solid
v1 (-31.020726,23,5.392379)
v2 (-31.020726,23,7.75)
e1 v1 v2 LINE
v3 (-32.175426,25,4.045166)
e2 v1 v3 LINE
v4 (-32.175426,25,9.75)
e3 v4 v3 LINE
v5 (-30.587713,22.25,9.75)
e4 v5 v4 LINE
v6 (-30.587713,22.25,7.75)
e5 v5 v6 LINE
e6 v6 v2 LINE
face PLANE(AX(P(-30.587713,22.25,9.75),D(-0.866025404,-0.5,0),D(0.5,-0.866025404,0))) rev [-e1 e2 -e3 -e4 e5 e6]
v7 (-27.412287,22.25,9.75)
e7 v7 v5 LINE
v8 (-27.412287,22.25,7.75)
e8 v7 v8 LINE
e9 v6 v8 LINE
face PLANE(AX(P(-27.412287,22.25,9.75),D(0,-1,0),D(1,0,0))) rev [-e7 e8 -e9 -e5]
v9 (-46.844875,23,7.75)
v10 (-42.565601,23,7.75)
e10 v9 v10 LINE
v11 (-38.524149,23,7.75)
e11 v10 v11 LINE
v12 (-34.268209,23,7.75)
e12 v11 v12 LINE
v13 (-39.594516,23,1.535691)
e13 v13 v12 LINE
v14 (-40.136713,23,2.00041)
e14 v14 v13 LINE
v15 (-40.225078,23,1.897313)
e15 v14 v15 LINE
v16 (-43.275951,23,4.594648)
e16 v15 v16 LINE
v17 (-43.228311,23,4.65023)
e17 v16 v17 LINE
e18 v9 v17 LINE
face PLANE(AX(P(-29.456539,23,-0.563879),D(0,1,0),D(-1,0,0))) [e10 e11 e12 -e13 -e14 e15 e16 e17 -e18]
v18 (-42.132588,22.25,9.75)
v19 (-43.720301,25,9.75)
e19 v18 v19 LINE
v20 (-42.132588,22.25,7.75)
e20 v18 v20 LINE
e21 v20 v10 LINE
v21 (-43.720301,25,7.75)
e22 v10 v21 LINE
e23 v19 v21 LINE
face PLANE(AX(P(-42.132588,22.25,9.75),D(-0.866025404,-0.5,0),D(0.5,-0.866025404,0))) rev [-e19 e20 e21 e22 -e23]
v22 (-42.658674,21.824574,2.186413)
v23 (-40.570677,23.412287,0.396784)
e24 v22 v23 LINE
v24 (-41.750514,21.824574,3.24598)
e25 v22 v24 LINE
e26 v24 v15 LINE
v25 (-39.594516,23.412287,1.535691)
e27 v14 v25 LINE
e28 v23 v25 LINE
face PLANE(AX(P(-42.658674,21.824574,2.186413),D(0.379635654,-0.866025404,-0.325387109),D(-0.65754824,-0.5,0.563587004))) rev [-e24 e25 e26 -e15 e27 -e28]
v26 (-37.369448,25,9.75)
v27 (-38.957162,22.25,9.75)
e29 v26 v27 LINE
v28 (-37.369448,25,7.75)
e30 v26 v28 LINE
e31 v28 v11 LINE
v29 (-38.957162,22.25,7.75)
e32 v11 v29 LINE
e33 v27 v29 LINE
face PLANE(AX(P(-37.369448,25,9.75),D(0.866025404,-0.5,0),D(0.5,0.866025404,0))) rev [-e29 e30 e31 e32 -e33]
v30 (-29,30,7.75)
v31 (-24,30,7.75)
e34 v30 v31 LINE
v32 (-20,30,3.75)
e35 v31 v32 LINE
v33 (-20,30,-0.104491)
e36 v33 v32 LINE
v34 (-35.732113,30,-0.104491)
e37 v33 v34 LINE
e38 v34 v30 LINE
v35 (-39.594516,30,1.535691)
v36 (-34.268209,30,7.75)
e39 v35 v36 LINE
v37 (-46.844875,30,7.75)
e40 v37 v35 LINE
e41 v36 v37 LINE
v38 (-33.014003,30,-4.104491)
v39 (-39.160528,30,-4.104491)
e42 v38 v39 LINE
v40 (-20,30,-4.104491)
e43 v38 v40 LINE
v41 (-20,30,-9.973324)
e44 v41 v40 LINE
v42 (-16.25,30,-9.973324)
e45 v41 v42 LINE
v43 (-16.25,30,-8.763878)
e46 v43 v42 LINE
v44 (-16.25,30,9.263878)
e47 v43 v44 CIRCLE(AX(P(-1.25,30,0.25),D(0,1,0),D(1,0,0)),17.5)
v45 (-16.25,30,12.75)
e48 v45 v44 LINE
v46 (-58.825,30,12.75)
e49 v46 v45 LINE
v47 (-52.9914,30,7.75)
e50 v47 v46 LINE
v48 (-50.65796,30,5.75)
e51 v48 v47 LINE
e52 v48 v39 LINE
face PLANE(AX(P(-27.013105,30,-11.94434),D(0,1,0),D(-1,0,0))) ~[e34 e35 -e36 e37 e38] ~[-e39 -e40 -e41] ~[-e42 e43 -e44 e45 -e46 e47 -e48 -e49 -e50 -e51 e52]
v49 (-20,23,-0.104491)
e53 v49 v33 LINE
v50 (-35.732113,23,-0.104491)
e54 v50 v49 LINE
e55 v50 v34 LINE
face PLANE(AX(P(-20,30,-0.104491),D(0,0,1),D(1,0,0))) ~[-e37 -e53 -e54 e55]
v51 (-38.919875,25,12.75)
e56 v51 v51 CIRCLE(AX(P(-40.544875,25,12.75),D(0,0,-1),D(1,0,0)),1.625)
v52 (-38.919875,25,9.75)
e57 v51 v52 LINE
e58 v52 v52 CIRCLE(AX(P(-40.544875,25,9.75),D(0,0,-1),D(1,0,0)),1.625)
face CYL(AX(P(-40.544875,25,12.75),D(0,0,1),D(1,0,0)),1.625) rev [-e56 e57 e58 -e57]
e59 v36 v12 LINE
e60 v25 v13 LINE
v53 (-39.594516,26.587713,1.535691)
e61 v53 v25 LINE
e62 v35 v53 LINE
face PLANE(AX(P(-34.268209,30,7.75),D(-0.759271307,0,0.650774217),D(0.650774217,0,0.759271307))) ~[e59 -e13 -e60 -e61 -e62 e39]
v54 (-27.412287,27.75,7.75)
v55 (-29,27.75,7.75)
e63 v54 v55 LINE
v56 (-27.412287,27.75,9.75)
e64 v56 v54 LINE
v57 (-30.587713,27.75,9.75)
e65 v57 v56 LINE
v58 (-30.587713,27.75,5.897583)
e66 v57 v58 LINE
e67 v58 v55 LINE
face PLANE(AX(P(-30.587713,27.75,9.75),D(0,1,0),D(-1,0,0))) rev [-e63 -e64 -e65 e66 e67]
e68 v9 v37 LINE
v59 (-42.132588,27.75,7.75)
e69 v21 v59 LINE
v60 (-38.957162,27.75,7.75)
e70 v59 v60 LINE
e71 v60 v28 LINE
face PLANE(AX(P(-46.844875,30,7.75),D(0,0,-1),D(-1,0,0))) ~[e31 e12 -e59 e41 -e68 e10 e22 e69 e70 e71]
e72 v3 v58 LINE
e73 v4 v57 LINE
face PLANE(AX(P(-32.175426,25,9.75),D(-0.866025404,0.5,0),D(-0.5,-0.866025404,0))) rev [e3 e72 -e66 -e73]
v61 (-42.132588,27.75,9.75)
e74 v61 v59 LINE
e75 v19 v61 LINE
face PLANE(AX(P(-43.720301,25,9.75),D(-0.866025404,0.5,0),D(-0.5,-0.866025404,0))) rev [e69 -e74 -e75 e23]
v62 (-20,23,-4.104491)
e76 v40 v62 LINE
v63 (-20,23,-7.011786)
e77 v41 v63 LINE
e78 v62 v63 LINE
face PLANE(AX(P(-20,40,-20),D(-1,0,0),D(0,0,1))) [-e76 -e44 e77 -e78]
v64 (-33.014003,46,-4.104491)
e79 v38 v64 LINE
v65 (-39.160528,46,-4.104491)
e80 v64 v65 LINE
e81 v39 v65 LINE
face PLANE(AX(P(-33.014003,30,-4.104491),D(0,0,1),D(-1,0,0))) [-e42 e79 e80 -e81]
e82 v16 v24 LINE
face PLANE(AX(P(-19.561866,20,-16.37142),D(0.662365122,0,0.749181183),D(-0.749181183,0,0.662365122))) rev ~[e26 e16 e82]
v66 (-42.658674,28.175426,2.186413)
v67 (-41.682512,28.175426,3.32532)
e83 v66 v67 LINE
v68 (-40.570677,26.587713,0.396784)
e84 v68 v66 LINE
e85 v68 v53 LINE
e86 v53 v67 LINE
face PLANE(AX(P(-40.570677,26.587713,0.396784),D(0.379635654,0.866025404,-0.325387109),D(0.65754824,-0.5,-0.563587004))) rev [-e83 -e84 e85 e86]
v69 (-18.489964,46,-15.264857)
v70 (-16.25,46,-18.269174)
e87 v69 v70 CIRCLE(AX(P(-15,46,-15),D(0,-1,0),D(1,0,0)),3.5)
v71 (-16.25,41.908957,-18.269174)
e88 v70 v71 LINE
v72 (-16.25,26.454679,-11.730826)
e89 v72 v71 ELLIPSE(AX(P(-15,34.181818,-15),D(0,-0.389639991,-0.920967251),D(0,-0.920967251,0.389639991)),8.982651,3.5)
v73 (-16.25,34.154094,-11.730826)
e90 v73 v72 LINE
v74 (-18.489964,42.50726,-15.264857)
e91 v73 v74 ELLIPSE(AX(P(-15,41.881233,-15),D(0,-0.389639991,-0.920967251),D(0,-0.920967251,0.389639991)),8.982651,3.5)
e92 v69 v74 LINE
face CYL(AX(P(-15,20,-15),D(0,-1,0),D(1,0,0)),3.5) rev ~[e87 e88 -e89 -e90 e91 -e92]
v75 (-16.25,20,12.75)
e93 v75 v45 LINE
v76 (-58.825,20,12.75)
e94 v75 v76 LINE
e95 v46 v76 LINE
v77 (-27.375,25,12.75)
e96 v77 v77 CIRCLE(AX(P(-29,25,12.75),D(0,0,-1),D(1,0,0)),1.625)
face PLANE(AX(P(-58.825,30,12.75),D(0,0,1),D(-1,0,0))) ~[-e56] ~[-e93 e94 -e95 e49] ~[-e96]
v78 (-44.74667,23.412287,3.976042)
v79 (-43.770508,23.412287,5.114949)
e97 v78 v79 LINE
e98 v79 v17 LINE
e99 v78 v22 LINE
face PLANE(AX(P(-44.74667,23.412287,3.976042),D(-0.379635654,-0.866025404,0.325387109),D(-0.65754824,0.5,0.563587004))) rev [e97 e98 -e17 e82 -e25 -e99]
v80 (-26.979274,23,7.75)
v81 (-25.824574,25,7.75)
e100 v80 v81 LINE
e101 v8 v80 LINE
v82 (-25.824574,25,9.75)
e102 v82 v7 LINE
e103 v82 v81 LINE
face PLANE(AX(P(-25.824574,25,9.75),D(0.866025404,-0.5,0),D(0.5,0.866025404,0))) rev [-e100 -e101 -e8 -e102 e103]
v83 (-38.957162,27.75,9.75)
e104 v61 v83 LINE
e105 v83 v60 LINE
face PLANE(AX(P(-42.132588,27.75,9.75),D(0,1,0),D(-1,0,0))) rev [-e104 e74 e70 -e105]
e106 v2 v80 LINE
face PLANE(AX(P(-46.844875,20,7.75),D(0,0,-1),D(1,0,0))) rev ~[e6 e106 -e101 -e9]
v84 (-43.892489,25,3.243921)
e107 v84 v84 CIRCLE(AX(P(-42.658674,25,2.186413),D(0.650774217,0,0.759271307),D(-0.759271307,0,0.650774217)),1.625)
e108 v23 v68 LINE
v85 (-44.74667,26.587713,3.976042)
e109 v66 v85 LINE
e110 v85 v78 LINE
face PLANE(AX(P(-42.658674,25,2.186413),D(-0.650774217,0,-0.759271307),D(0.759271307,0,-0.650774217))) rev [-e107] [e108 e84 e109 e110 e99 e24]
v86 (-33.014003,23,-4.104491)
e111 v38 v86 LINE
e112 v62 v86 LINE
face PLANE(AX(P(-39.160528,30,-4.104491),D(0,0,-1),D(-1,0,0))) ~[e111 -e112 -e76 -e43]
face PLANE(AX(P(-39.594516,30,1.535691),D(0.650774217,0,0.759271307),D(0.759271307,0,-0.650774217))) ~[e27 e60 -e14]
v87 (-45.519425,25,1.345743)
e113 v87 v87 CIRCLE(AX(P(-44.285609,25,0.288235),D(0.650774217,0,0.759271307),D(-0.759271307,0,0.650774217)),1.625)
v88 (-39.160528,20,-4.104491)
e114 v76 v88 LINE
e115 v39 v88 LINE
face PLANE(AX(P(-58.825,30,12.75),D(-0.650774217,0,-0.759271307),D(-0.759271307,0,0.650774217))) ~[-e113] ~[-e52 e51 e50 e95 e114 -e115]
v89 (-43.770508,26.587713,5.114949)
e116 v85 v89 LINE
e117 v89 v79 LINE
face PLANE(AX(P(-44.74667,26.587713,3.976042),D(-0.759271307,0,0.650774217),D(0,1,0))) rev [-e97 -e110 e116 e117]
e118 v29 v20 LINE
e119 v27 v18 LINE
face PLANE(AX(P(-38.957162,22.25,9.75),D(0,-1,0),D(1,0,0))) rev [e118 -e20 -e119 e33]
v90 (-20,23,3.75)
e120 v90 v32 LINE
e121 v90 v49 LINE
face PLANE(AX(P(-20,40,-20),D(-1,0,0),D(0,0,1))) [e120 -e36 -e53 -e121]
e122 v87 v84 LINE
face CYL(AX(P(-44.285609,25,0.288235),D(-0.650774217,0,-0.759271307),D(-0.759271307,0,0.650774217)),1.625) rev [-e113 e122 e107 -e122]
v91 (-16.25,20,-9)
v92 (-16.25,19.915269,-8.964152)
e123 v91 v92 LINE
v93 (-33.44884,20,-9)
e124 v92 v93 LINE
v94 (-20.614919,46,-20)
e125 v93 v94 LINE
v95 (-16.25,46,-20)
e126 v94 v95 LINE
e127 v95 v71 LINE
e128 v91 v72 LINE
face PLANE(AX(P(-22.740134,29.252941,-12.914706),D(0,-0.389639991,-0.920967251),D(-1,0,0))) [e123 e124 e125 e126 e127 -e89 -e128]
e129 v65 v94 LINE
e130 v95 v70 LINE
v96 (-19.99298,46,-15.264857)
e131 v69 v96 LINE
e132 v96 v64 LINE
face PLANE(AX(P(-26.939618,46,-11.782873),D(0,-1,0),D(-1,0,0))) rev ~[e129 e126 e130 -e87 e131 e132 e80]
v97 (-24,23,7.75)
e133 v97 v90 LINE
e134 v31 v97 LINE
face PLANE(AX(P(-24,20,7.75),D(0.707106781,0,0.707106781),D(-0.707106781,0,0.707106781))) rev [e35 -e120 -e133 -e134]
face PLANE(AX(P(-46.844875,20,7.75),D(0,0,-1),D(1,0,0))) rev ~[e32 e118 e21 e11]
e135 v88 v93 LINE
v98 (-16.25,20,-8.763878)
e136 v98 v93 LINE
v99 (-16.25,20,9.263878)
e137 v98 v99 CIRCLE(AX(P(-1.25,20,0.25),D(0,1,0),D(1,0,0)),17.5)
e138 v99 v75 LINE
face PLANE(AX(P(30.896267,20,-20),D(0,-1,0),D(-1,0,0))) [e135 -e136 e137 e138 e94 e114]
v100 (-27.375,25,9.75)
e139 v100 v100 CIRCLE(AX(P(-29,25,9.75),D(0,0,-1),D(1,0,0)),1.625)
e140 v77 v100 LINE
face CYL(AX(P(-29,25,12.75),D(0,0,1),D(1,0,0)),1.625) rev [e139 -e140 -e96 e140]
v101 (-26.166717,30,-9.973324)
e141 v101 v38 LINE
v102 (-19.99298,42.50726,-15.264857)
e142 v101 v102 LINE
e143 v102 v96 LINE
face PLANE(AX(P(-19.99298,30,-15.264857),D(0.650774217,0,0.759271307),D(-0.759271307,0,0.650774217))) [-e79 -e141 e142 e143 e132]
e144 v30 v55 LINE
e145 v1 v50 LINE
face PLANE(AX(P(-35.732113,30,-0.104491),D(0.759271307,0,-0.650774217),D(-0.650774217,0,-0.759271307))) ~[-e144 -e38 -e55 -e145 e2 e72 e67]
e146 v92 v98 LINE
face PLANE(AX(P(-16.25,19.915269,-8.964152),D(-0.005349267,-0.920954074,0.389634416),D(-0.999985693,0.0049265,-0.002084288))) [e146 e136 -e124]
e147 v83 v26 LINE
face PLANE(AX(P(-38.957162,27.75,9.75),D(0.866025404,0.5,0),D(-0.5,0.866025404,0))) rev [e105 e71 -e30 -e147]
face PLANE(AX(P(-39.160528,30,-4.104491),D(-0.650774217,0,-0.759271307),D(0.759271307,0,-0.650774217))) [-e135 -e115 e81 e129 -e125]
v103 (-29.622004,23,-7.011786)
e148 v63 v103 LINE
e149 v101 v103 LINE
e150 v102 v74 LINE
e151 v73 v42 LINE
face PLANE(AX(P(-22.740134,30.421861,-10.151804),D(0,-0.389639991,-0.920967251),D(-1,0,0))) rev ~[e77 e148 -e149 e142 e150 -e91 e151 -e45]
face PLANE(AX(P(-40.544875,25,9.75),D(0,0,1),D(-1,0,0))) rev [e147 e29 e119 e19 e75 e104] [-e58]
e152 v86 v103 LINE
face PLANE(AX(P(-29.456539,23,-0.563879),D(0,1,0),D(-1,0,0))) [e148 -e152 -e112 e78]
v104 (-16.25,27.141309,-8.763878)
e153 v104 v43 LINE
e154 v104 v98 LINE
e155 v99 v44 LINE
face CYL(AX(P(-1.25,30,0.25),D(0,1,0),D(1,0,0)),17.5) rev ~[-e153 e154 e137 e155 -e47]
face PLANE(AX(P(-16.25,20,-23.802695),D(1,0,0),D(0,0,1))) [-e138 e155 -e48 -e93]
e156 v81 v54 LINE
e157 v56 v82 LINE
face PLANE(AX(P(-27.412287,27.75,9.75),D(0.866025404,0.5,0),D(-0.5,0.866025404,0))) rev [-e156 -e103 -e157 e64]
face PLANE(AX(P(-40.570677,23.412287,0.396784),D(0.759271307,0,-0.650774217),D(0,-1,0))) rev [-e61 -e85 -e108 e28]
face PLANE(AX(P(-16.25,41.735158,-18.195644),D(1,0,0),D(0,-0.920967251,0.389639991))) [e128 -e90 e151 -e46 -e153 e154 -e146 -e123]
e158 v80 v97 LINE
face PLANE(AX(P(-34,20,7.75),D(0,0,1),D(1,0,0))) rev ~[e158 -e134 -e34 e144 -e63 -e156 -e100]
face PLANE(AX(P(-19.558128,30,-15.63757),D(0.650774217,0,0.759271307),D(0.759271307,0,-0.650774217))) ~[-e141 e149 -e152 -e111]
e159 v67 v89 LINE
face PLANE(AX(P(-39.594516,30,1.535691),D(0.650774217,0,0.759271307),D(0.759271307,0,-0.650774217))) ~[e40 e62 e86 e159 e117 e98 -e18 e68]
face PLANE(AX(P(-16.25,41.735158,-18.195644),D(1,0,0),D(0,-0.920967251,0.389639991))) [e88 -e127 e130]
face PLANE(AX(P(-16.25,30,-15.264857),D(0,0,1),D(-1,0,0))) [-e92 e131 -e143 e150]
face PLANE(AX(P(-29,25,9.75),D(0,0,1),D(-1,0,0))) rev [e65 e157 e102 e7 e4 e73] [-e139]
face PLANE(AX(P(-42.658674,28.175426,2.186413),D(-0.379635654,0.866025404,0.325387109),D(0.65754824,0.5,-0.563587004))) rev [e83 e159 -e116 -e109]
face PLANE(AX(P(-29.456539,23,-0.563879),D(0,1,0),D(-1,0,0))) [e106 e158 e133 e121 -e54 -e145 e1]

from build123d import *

# Parameters (mm, degrees)
CROQUIS1_R                              = 15.25
CROQUIS1_R_2                            = 2.125
SOPORTE_CAJA_REDUCTORA_DEPTH            = 20
CROQUIS3_R                              = 2.125
CORTAR_EXTRUIR1_DEPTH                   = 51.423828692
REDONDEO1_R                             = 5
BOSS_EXTRUDE1_DEPTH                     = 20
CUT_EXTRUDE1_REACH                      = 55.852
SKETCH2_R                               = 1.625
CUT_EXTRUDE2_DEPTH                      = 2
SKETCH4_R                               = 1.625
CUT_EXTRUDE3_DEPTH                      = 63.291652731
CUT_EXTRUDE4_START                      = -4.5
CUT_EXTRUDE4_DEPTH                      = 2
CROQUIS6_W                              = 4.75
CROQUIS6_H                              = 4.75
CORTAR_EXTRUIR17_DEPTH                  = 42.231056256
CROQUIS7_W                              = 60
CROQUIS7_H                              = 20
CORTAR_EXTRUIR18_DEPTH                  = 51.423828692
SALIENTE_EXTRUIR2_DEPTH                 = 49
SOPORTE_START                           = -15
SOPORTE_MOTOR_DEPTH                     = 15
CROQUIS12_R                             = 2.125
AGUJEROS_DE_SUJECION_A_BASE_DEPTH       = 84.087679592
TUERCA_START                            = -4
TUERCA_AGUJERO_DE_SUJECION_A_BASE_DEPTH = 10
SALIENTE_EXTRUIR4_DEPTH                 = 15
CORTAR_EXTRUIR19_DEPTH                  = 25
CROQUIS14_W                             = 50
CROQUIS14_H                             = 118
CORTAR_EXTRUIR22_DEPTH                  = 146.556045907
CROQUIS15_W                             = 10
CROQUIS15_H                             = 7
CORTAR_EXTRUIR23_DEPTH                  = 42.231056256
CORTAR_EXTRUIR24_DEPTH                  = 42.231056256
CROQUIS18_W                             = 40
CROQUIS18_H                             = 10
CORTAR_EXTRUIR25_DEPTH                  = 44.27311521
SALIENTE_EXTRUIR5_DEPTH                 = 10
CROQUIS20_R                             = 1
CORTAR_EXTRUIR26_DEPTH                  = 49.229270158
CORTAR_EXTRUIR27_REACH                  = 62.959
CORTAR_EXTRUIR27_END_RADIUS             = 15.25
CROQUIS21_R                             = 1.625
CROQUIS22_R                             = 2.125
CROQUIS22_R_2                           = 1
SALIENTE_EXTRUIR6_DEPTH                 = 10
CROQUIS23_R                             = 1.625
CORTAR_EXTRUIR28_DEPTH                  = 52.269508521
CORTAR_EXTRUIR29_START                  = -3
CORTAR_EXTRUIR29_DEPTH                  = 10
SALIENTE_EXTRUIR7_DEPTH                 = 10
CORTAR_EXTRUIR30_REACH                  = 72.235
CROQUIS27_R                             = 1.625
CORTAR_EXTRUIR31_REACH                  = 75.235
CORTAR_EXTRUIR31_START                  = -3
CORTAR_EXTRUIR32_REACH                  = 58.612
CROQUIS29_R                             = 1.625
CORTAR_EXTRUIR33_REACH                  = 61.112
CORTAR_EXTRUIR33_START                  = -2.5
CROQUIS35_W                             = 13.305418987
CROQUIS35_H                             = 6.826864192
CORTAR_EXTRUIR34_DEPTH                  = 63.931555098
CORTAR_EXTRUIR34_DEPTH_BACK             = 63.931555098
CORTAR_EXTRUIR35_START                  = -3
CORTAR_EXTRUIR35_DEPTH                  = 10
SALIENTE_EXTRUIR8_DEPTH                 = 10
SALIENTE_EXTRUIR9_DEPTH                 = 13
SALIENTE_EXTRUIR10_DEPTH                = 3
CROQUIS40_W                             = 106.583537839
CROQUIS40_H                             = 47.391515964
CORTAR_EXTRUIR36_DEPTH                  = 80.887064817
CORTAR_EXTRUIR36_DEPTH_BACK             = 80.887064817
CROQUIS41_W                             = 24.558856908
CROQUIS41_H                             = 18.206234432
CORTAR_EXTRUIR37_DEPTH                  = 80.887064817
CORTAR_EXTRUIR37_DEPTH_BACK             = 80.887064817
CROQUIS42_W                             = 39.793611955
CROQUIS42_H                             = 36.552695193
CORTAR_EXTRUIR38_DEPTH                  = 63.931555082
CORTAR_EXTRUIR38_DEPTH_BACK             = 63.931555082
SALIENTE_EXTRUIR11_DEPTH                = 3
CROQUIS44_R                             = 17.5
CORTAR_EXTRUIR39_DEPTH                  = 63.931555082
CORTAR_EXTRUIR39_DEPTH_BACK             = 63.931555082
SALIENTE_EXTRUIR12_DEPTH                = 16
CORTAR_EXTRUIR40_DEPTH                  = 66.79232953
SALIENTE_EXTRUIR14_DEPTH                = 3
CROQUIS48_R                             = 17.5
CORTAR_EXTRUIR41_DEPTH                  = 68.352658633
CORTAR_EXTRUIR41_DEPTH_BACK             = 68.352658633
CROQUIS49_R                             = 3.5
CORTAR_EXTRUIR42_DEPTH                  = 68.352658633


with BuildPart() as part:
    # Croquis1 → Soporte caja reductora (new body)
    with BuildSketch(Plane(origin=(0, 0, 0), x_dir=(1, 0, 0), z_dir=(0, 1, 0))):
        Polygon((-30, -15.25), (-20, -15.25), (-20, -20), (20, -20), (20, -15.25), (30, -15.25), (30, -7.25), (20, -4.25), (20, 20), (-20, 20), (-20, -4.25), (-30, -7.25), align=None)
        with Locations(Location((0, 0, 0), (0, 0, 270))):
            Circle(CROQUIS1_R, mode=Mode.SUBTRACT)
        with Locations(Location((-15, 15, 0), (0, 0, 270))):
            Circle(CROQUIS1_R_2, mode=Mode.SUBTRACT)
        with Locations(Location((15, 15, 0), (0, 0, 270))):
            Circle(CROQUIS1_R_2, mode=Mode.SUBTRACT)
    extrude(amount=-SOPORTE_CAJA_REDUCTORA_DEPTH)

    # Croquis3 → Cortar-Extruir1 (cut, through all)
    with BuildSketch(Plane.XY.offset(15.25)):
        with Locations((-23.5, -10)):
            Circle(CROQUIS3_R)
        with Locations((23.5, -10)):
            Circle(CROQUIS3_R)
    extrude(amount=-CORTAR_EXTRUIR1_DEPTH, mode=Mode.SUBTRACT)

    # Redondeo1
    redondeo1_edges = [part.edges().sort_by_distance(p)[0] for p in [
        (-20, -10, -20),
        (20, -10, -20),
    ]]
    fillet(redondeo1_edges, radius=REDONDEO1_R)

    # Sketch1 → Boss-Extrude1 (add)
    with BuildSketch(Plane(origin=(0, 0, 0), x_dir=(1, 0, 0), z_dir=(0, 1, 0))):
        with BuildLine():
            Line((25.5, 15), (20, 15))
            ThreePointArc((20, 15), (18.535533906, 18.535533906), (15, 20))
            Line((15, 20), (30, 20))
            Line((30, 20), (30, 8))
            Line((30, 8), (25.5, 8))
            Line((25.5, 8), (25.5, 15))
        make_face()
    extrude(amount=-BOSS_EXTRUDE1_DEPTH)

    # Sketch2 → Cut-Extrude1 (cut, up to next)
    with BuildSketch(Plane(origin=(0, 0, -20), x_dir=(-1, 0, 0), z_dir=(0, 0, -1)), mode=Mode.PRIVATE) as cut_extrude1_sk1:
        with Locations((-22.75, -10)):
            Circle(SKETCH2_R)
    cut_extrude1_tool1 = extrude(cut_extrude1_sk1.sketch, amount=-CUT_EXTRUDE1_REACH, mode=Mode.PRIVATE) & part.part
    add(cut_extrude1_tool1.solids().sort_by_distance((22.75, -10, -20))[0], mode=Mode.SUBTRACT)

    # Sketch3 → Cut-Extrude2 (cut)
    with BuildSketch(Plane.XY.offset(-15)):
        Polygon((20, -11.58771324), (22.75, -13.175426481), (25.5, -11.58771324), (25.5, -8.41228676), (22.75, -6.824573519), (20, -8.41228676), align=None)
    extrude(amount=-CUT_EXTRUDE2_DEPTH, mode=Mode.SUBTRACT)

    # Sketch4 → Cut-Extrude3 (cut, through all)
    with BuildSketch(Plane.ZY.offset(-25.5)):
        with Locations((-12.25, -10)):
            Circle(SKETCH4_R)
    extrude(amount=-CUT_EXTRUDE3_DEPTH, mode=Mode.SUBTRACT)

    # Sketch5 → Cut-Extrude4 (cut)
    with BuildSketch(Plane(origin=(30, 0, 0), x_dir=(0, 0, -1), z_dir=(1, 0, 0)).offset(CUT_EXTRUDE4_START)):
        Polygon((15, -11.58771324), (15, -8.41228676), (12.25, -6.824573519), (9.5, -8.41228676), (9.5, -11.58771324), (12.25, -13.175426481), align=None)
    extrude(amount=CUT_EXTRUDE4_DEPTH, mode=Mode.SUBTRACT)

    # Croquis6 → Cortar-Extruir17 (cut, through all)
    with BuildSketch(Plane(origin=(0, 0, 0), x_dir=(1, 0, 0), z_dir=(0, 1, 0))):
        Polygon((0, -15.25), (-15.25, -15.25), (-15.25, -20), (15.25, -20), (15.25, -15.25), align=None)
        with Locations((-17.625, -17.625)):
            Rectangle(CROQUIS6_W, CROQUIS6_H)
        with BuildLine():
            ThreePointArc((0, -15.25), (-10.783378413, -10.783378413), (-15.25, 0))
            Line((-15.25, 0), (-15.25, -15.25))
            Line((-15.25, -15.25), (0, -15.25))
        make_face()
        with BuildLine():
            Line((15.25, -15.25), (15.25, 0))
            ThreePointArc((15.25, 0), (10.783378413, -10.783378413), (0, -15.25))
            Line((0, -15.25), (15.25, -15.25))
        make_face()
        with Locations((17.625, -17.625)):
            Rectangle(CROQUIS6_W, CROQUIS6_H)
    extrude(amount=-CORTAR_EXTRUIR17_DEPTH, mode=Mode.SUBTRACT)


with BuildPart() as body_2:
    # Simetría1: mirrored copy
    add(part.part.mirror(Plane.ZX))

    # Croquis8 → Saliente-Extruir2 (add)
    with BuildSketch(Plane(origin=(0, 20, 0), x_dir=(1, 0, 0), z_dir=(0, 1, 0))):
        with BuildLine():
            Line((-12.664515522, 20), (-11.040489496, 13.939052358))
            Line((-11.040489496, 13.939052358), (-10.315162126, 11.232093763))
            ThreePointArc((-10.315162126, 11.232093763), (0, 15.25), (10.315162126, 11.232093763))
            Line((10.315162126, 11.232093763), (10.817418481, 13.87928066))
            Line((10.817418481, 13.87928066), (11.978715476, 20))
            Line((11.978715476, 20), (-12.664515522, 20))
        make_face()
    extrude(amount=SALIENTE_EXTRUIR2_DEPTH)

    # Croquis9 → Soporte motor (add)
    with BuildSketch(Plane(origin=(0, 69, 0), x_dir=(1, 0, 0), z_dir=(0, 1, 0)).offset(SOPORTE_START)):
        with BuildLine():
            Line((-20, 15), (-20, -4.25))
            Line((-20, -4.25), (-30, -7.25))
            Line((-30, -7.25), (-30, -15.25))
            Line((-30, -15.25), (0, -15.25))
            Line((0, -15.25), (0, -14.75))
            ThreePointArc((0, -14.75), (-10.429825023, 10.429825023), (14.75, 0))
            Line((14.75, 0), (20, 0))
            Line((20, 0), (20, 13.936837101))
            Line((20, 13.936837101), (12.664515522, 20))
            Line((12.664515522, 20), (-15, 20))
            ThreePointArc((-15, 20), (-18.535533906, 18.535533906), (-20, 15))
        make_face()
    extrude(amount=-SOPORTE_MOTOR_DEPTH)

    # Croquis12 → Agujeros de sujecion a base (cut, through all)
    with BuildSketch(Plane.XY.offset(15.25)):
        with Locations((-23.5, 46.5)):
            Circle(CROQUIS12_R)
    extrude(amount=-AGUJEROS_DE_SUJECION_A_BASE_DEPTH, mode=Mode.SUBTRACT)

    # Croquis13 → Tuerca Agujero de sujecion a base (cut)
    with BuildSketch(Plane.XY.offset(15.25).offset(TUERCA_START)):
        Polygon((-20, 44.479274058), (-20, 48.520725942), (-23.5, 50.541451884), (-27, 48.520725942), (-27, 44.479274058), (-23.5, 42.458548116), align=None)
    extrude(amount=-TUERCA_AGUJERO_DE_SUJECION_A_BASE_DEPTH, mode=Mode.SUBTRACT)

    # Croquis10 → Saliente-Extruir4 (add)
    with BuildSketch(Plane(origin=(0, 69, 0), x_dir=(1, 0, 0), z_dir=(0, 1, 0))):
        with BuildLine():
            ThreePointArc((10.315162126, 11.232093763), (0, 15.25), (-10.315162126, 11.232093763))
            Line((-10.315162126, 11.232093763), (-10.16850369, 10.684757026))
            ThreePointArc((-10.16850369, 10.684757026), (0, 14.75), (10.16850369, 10.684757026))
            Line((10.16850369, 10.684757026), (10.315162126, 11.232093763))
        make_face()
    extrude(amount=-SALIENTE_EXTRUIR4_DEPTH)

    # Croquis11 → Cortar-Extruir19 (cut)
    with BuildSketch(Plane.XZ):
        with BuildLine():
            Line((15.25, 4.25), (20, 4.25))
            Line((20, 4.25), (21.972856468, 4.84185694))
            ThreePointArc((21.972856468, 4.84185694), (19.948931102, 10.40625523), (16.543503257, 15.25))
            Line((16.543503257, 15.25), (15.25, 15.25))
            Line((15.25, 15.25), (15.25, 4.25))
        make_face()
        with BuildLine():
            Line((21.972856468, 4.84185694), (30, 7.25))
            Line((30, 7.25), (30, 15.25))
            Line((30, 15.25), (16.543503257, 15.25))
            ThreePointArc((16.543503257, 15.25), (19.948931102, 10.40625523), (21.972856468, 4.84185694))
        make_face()
        with BuildLine():
            ThreePointArc((20, -15), (18.535533906, -18.535533906), (15, -20))
            Line((15, -20), (30, -20))
            Line((30, -20), (30, -8))
            Line((30, -8), (25.5, -8))
            Line((25.5, -8), (25.5, -15))
            Line((25.5, -15), (20, -15))
        make_face()
    extrude(amount=-CORTAR_EXTRUIR19_DEPTH, mode=Mode.SUBTRACT)

    # Simetría2: body 2 across face


with BuildPart() as part_1:
    add(part.part)

    # Croquis7 → Cortar-Extruir18 (cut, through all)
    with BuildSketch(Plane(origin=(0, 0, -20), x_dir=(-1, 0, 0), z_dir=(0, 0, -1))):
        with Locations((0, -10)):
            Rectangle(CROQUIS7_W, CROQUIS7_H)
    extrude(amount=-CORTAR_EXTRUIR18_DEPTH, mode=Mode.SUBTRACT)


with BuildPart() as body_2_1:
    add(body_2.part)
    add(body_2.part.mirror(Plane(origin=(-0.229209569, 69, -16.663998028), x_dir=(0, 0, 1), z_dir=(0, 1, 0))))

    # Croquis14 → Cortar-Extruir22 (cut, through all)
    with BuildSketch(Plane.XY.offset(15.25)):
        with Locations((-5, 79)):
            Rectangle(CROQUIS14_W, CROQUIS14_H)
    extrude(amount=-CORTAR_EXTRUIR22_DEPTH, mode=Mode.SUBTRACT)

    # Croquis15 → Cortar-Extruir23 (cut, through all)
    with BuildSketch(Plane.XZ):
        with Locations((-25, 7.75)):
            Rectangle(CROQUIS15_W, CROQUIS15_H)
    extrude(amount=-CORTAR_EXTRUIR23_DEPTH, mode=Mode.SUBTRACT)

    # Croquis16 → Cortar-Extruir24 (cut, through all)
    with BuildSketch(Plane.XZ):
        Polygon((-30, 15.25), (-15.25, 15.25), (-15.25, 12.75), (-20, 12.75), (-20, 11.25), (-30, 11.25), (-30, 12.75), align=None)
    extrude(amount=-CORTAR_EXTRUIR24_DEPTH, mode=Mode.SUBTRACT)

    # Croquis18 → Cortar-Extruir25 (cut, through all)
    with BuildSketch(Plane(origin=(0, 0, -20), x_dir=(-1, 0, 0), z_dir=(0, 0, -1))):
        with Locations((0, 5)):
            Rectangle(CROQUIS18_W, CROQUIS18_H)
    extrude(amount=-CORTAR_EXTRUIR25_DEPTH, mode=Mode.SUBTRACT)

    # Croquis19 → Saliente-Extruir5 (add)
    with BuildSketch(Plane(origin=(0, 20, 0), x_dir=(1, 0, 0), z_dir=(0, 1, 0))):
        Polygon((-20, -12.75), (-34, -12.75), (-34, -7.75), (-24, -7.75), (-20, -3.75), align=None)
    extrude(amount=-SALIENTE_EXTRUIR5_DEPTH)

    # Croquis20 → Cortar-Extruir26 (cut, through all)
    with BuildSketch(Plane(origin=(0, 0, 7.75), x_dir=(-1, 0, 0), z_dir=(0, 0, -1))):
        with Locations((29, 15)):
            Circle(CROQUIS20_R)
    extrude(amount=-CORTAR_EXTRUIR26_DEPTH, mode=Mode.SUBTRACT)

    # Cortar-Extruir27: up to this cylinder (the profile starts outside it)
    cortar_extruir27_end = Plane(origin=(0, 15, 0), z_dir=(0, -1, 0)) * Cylinder(CORTAR_EXTRUIR27_END_RADIUS, 157.418, mode=Mode.PRIVATE)
    # Croquis21 → Cortar-Extruir27 (cut, up to the surface)
    with BuildSketch(Plane(origin=(20, 0, 0), x_dir=(0, 0, -1), z_dir=(1, 0, 0)), mode=Mode.PRIVATE) as cortar_extruir27_sk1:
        with Locations((4.75, 15)):
            Circle(CROQUIS21_R)
    cortar_extruir27_tool1 = extrude(cortar_extruir27_sk1.sketch, amount=-CORTAR_EXTRUIR27_REACH, mode=Mode.PRIVATE) - cortar_extruir27_end
    add(cortar_extruir27_tool1.solids().sort_by_distance((20, 15, -4.75))[0], mode=Mode.SUBTRACT)

    # Croquis22 → Saliente-Extruir6 (add)
    with BuildSketch(Plane.XZ.offset(-10)):
        with Locations((-15, -15)):
            Circle(CROQUIS22_R)
        with Locations(Location((-15, -15, 0), (0, 0, 270))):
            Circle(CROQUIS22_R_2, mode=Mode.SUBTRACT)
        with Locations((15, -15)):
            Circle(CROQUIS22_R)
        with Locations(Location((15, -15, 0), (0, 0, 270))):
            Circle(CROQUIS22_R_2, mode=Mode.SUBTRACT)
    extrude(amount=-SALIENTE_EXTRUIR6_DEPTH)

    # Croquis23 → Cortar-Extruir28 (cut, through all)
    with BuildSketch(Plane(origin=(0, 0, -20), x_dir=(-1, 0, 0), z_dir=(0, 0, -1))):
        with Locations((0, 15)):
            Circle(CROQUIS23_R)
    extrude(amount=-CORTAR_EXTRUIR28_DEPTH, mode=Mode.SUBTRACT)

    # Croquis24 → Cortar-Extruir29 (cut)
    with BuildSketch(Plane(origin=(0, 0, -20), x_dir=(-1, 0, 0), z_dir=(0, 0, -1)).offset(CORTAR_EXTRUIR29_START)):
        Polygon((1.58771324, 12.25), (3.175426481, 15), (1.58771324, 17.75), (-1.58771324, 17.75), (-3.175426481, 15), (-1.58771324, 12.25), align=None)
    extrude(amount=-CORTAR_EXTRUIR29_DEPTH, mode=Mode.SUBTRACT)

    # Croquis26 → Saliente-Extruir7 (add)
    with BuildSketch(Plane.XZ.offset(-10)):
        Polygon((-34, 7.75), (-34, 12.75), (-58.825, 12.75), (-39.160527763, -4.104491148), (-20, -4.104491148), (-20, -0.104491148), (-35.732113118, -0.104491148), (-29, 7.75), align=None)
        Polygon((-34.268209086, 7.75), (-39.594516123, 1.535690951), (-46.844874897, 7.75), align=None, mode=Mode.SUBTRACT)
    extrude(amount=-SALIENTE_EXTRUIR7_DEPTH)

    # Croquis27 → Cortar-Extruir30 (cut, up to next)
    with BuildSketch(Plane.XY.offset(12.75), mode=Mode.PRIVATE) as cortar_extruir30_sk1:
        with Locations((-40.544874897, 15)):
            Circle(CROQUIS27_R)
    cortar_extruir30_tool1 = extrude(cortar_extruir30_sk1.sketch, amount=-CORTAR_EXTRUIR30_REACH, mode=Mode.PRIVATE) & body_2_1.part
    # Croquis27 → Cortar-Extruir30 (cut, up to next)
    with BuildSketch(Plane.XY.offset(12.75), mode=Mode.PRIVATE) as cortar_extruir30_sk2:
        with Locations((-29, 15)):
            Circle(CROQUIS27_R)
    cortar_extruir30_tool2 = extrude(cortar_extruir30_sk2.sketch, amount=-CORTAR_EXTRUIR30_REACH, mode=Mode.PRIVATE) & body_2_1.part
    add(cortar_extruir30_tool1.solids().sort_by_distance((-40.544875, 15, 12.75))[0], mode=Mode.SUBTRACT)
    add(cortar_extruir30_tool2.solids().sort_by_distance((-29, 15, 12.75))[0], mode=Mode.SUBTRACT)

    # Croquis28 → Cortar-Extruir31 (cut, up to next)
    with BuildSketch(Plane.XY.offset(12.75).offset(CORTAR_EXTRUIR31_START), mode=Mode.PRIVATE) as cortar_extruir31_sk1:
        Polygon((-38.957161657, 12.25), (-37.369448416, 15), (-38.957161657, 17.75), (-42.132588137, 17.75), (-43.720301378, 15), (-42.132588137, 12.25), align=None)
    cortar_extruir31_tool1 = extrude(cortar_extruir31_sk1.sketch, amount=-CORTAR_EXTRUIR31_REACH, mode=Mode.PRIVATE) & body_2_1.part
    # Croquis28 → Cortar-Extruir31 (cut, up to next)
    with BuildSketch(Plane.XY.offset(12.75).offset(CORTAR_EXTRUIR31_START), mode=Mode.PRIVATE) as cortar_extruir31_sk2:
        Polygon((-27.41228676, 12.25), (-25.824573519, 15), (-27.41228676, 17.75), (-30.58771324, 17.75), (-32.175426481, 15), (-30.58771324, 12.25), align=None)
    cortar_extruir31_tool2 = extrude(cortar_extruir31_sk2.sketch, amount=-CORTAR_EXTRUIR31_REACH, mode=Mode.PRIVATE) & body_2_1.part
    add(cortar_extruir31_tool1.solids().sort_by_distance((-40.544875, 15, 9.75))[0], mode=Mode.SUBTRACT)
    add(cortar_extruir31_tool2.solids().sort_by_distance((-29, 15, 9.75))[0], mode=Mode.SUBTRACT)

    # Croquis29 → Cortar-Extruir32 (cut, up to next)
    with BuildSketch(Plane(origin=(-18.612848159, 0, -21.715982563), x_dir=(-0.7592713073348843, 0, 0.6507742172658468), z_dir=(-0.6507742172658468, 0, -0.7592713073348843)), mode=Mode.PRIVATE) as cortar_extruir32_sk1:
        with Locations((33.812368097, 15)):
            Circle(CROQUIS29_R)
    cortar_extruir32_tool1 = extrude(cortar_extruir32_sk1.sketch, amount=-CORTAR_EXTRUIR32_REACH, mode=Mode.PRIVATE) & body_2_1.part
    add(cortar_extruir32_tool1.solids().sort_by_distance((-44.285609, 15, 0.288235))[0], mode=Mode.SUBTRACT)

    # Croquis31 → Cortar-Extruir33 (cut, up to next)
    with BuildSketch(Plane(origin=(-18.612848159, 0, -21.715982563), x_dir=(-0.7592713073348843, 0, 0.6507742172658468), z_dir=(-0.6507742172658468, 0, -0.7592713073348843)).offset(CORTAR_EXTRUIR33_START), mode=Mode.PRIVATE) as cortar_extruir33_sk1:
        Polygon((36.562368097, 16.58771324), (33.812368097, 18.175426481), (31.062368097, 16.58771324), (31.062368097, 13.41228676), (33.812368097, 11.824573519), (36.562368097, 13.41228676), align=None)
    cortar_extruir33_tool1 = extrude(cortar_extruir33_sk1.sketch, amount=-CORTAR_EXTRUIR33_REACH, mode=Mode.PRIVATE) & body_2_1.part
    add(cortar_extruir33_tool1.solids().sort_by_distance((-42.658674, 15, 2.186413))[0], mode=Mode.SUBTRACT)

    # Croquis35 → Cortar-Extruir34 (cut, two sides)
    with BuildSketch(Plane(origin=(0, 20, 0), x_dir=(1, 0, 0), z_dir=(0, 1, 0))) as cortar_extruir34_sk:
        with Locations((17.04227466, -3.413432096)):
            Rectangle(CROQUIS35_W, CROQUIS35_H)
    extrude(amount=CORTAR_EXTRUIR34_DEPTH, mode=Mode.SUBTRACT)
    extrude(cortar_extruir34_sk.sketch, amount=-CORTAR_EXTRUIR34_DEPTH_BACK, mode=Mode.SUBTRACT)

    # Croquis36 → Cortar-Extruir35 (cut)
    with BuildSketch(Plane(origin=(20, 0, 0), x_dir=(0, 0, -1), z_dir=(1, 0, 0)).offset(CORTAR_EXTRUIR35_START)):
        Polygon((7.5, 16.58771324), (4.75, 18.175426481), (2, 16.58771324), (2, 13.41228676), (4.75, 11.824573519), (7.5, 13.41228676), align=None)
    extrude(amount=-CORTAR_EXTRUIR35_DEPTH, mode=Mode.SUBTRACT)

    # Croquis37 → Saliente-Extruir8 (add)
    with BuildSketch(Plane.XZ.offset(-10)):
        Polygon((-39.160527763, -4.104491148), (-20.614919368, -20), (-15, -20), (-19.558128305, -15.637570403), (-33.014002756, -4.104491148), align=None)
    extrude(amount=-SALIENTE_EXTRUIR8_DEPTH)

    # Croquis38 → Saliente-Extruir9 (add)
    with BuildSketch(Plane.XZ.offset(-10)):
        Polygon((-58.825, 12.75), (-38.825, 12.75), (-38.825, 9.75), (-55.324839942, 9.75), align=None)
    extrude(amount=SALIENTE_EXTRUIR9_DEPTH)

    # Croquis39 → Saliente-Extruir10 (add)
    with BuildSketch(Plane.XZ.offset(-10)):
        Polygon((-38.825, 9.75), (-38.825, 7.75), (-38.825, 5.75), (-50.657959865, 5.75), (-52.991399903, 7.75), (-55.324839942, 9.75), align=None)
    extrude(amount=SALIENTE_EXTRUIR10_DEPTH)

    # Simetría3: body 2 across face


with BuildPart() as body_2_2:
    add(body_2_1.part)
    add(body_2_1.part.mirror(Plane(origin=(-18.003999227, 20, -4.220503046), x_dir=(0, 0, 1), z_dir=(0, 1, 0))))

    # Croquis40 → Cortar-Extruir36 (cut, two sides)
    with BuildSketch(Plane(origin=(0, 0, -20), x_dir=(-1, 0, 0), z_dir=(0, 0, -1))) as cortar_extruir36_sk:
        with Locations((22.395502026, -3.695757982)):
            Rectangle(CROQUIS40_W, CROQUIS40_H)
    extrude(amount=CORTAR_EXTRUIR36_DEPTH, mode=Mode.SUBTRACT)
    extrude(cortar_extruir36_sk.sketch, amount=-CORTAR_EXTRUIR36_DEPTH_BACK, mode=Mode.SUBTRACT)

    # Croquis41 → Cortar-Extruir37 (cut, two sides)
    with BuildSketch(Plane(origin=(0, 0, -20), x_dir=(-1, 0, 0), z_dir=(0, 0, -1))) as cortar_extruir37_sk:
        with Locations((51.104428454, 39.103117216)):
            Rectangle(CROQUIS41_W, CROQUIS41_H)
    extrude(amount=CORTAR_EXTRUIR37_DEPTH, mode=Mode.SUBTRACT)
    extrude(cortar_extruir37_sk.sketch, amount=-CORTAR_EXTRUIR37_DEPTH_BACK, mode=Mode.SUBTRACT)

    # Croquis42 → Cortar-Extruir38 (cut, two sides)
    with BuildSketch(Plane.XZ.offset(-20)) as cortar_extruir38_sk:
        with Locations((3.646805978, -5.526347597)):
            Rectangle(CROQUIS42_W, CROQUIS42_H)
    extrude(amount=CORTAR_EXTRUIR38_DEPTH, mode=Mode.SUBTRACT)
    extrude(cortar_extruir38_sk.sketch, amount=-CORTAR_EXTRUIR38_DEPTH_BACK, mode=Mode.SUBTRACT)

    # Croquis43 → Saliente-Extruir11 (add)
    with BuildSketch(Plane.XZ.offset(-20)):
        Polygon((-46.844874897, 7.75), (-19.56186566, 7.75), (-19.56186566, -16.371419699), align=None)
    extrude(amount=-SALIENTE_EXTRUIR11_DEPTH)

    # Croquis44 → Cortar-Extruir39 (cut, two sides)
    with BuildSketch(Plane(origin=(0, 30, 0), x_dir=(1, 0, 0), z_dir=(0, 1, 0))) as cortar_extruir39_sk:
        with Locations((-1.25, -0.25)):
            Circle(CROQUIS44_R)
    extrude(amount=CORTAR_EXTRUIR39_DEPTH, mode=Mode.SUBTRACT)
    extrude(cortar_extruir39_sk.sketch, amount=-CORTAR_EXTRUIR39_DEPTH_BACK, mode=Mode.SUBTRACT)

    # Croquis45 → Saliente-Extruir12 (add)
    with BuildSketch(Plane(origin=(0, 30, 0), x_dir=(1, 0, 0), z_dir=(0, 1, 0))):
        Polygon((-33.014002756, 4.104491148), (-39.160527763, 4.104491148), (-20.614919368, 20), (-16.25, 20), (-16.25, 15.264857309), (-19.992980133, 15.264857309), align=None)
    extrude(amount=SALIENTE_EXTRUIR12_DEPTH)

    # Croquis46 → Cortar-Extruir40 (cut, through all)
    with BuildSketch(Plane(origin=(-16.25, 0, 0), x_dir=(0, 0, -1), z_dir=(1, 0, 0))):
        Polygon((9, 20), (20, 46), (20, 20), align=None)
    extrude(amount=-CORTAR_EXTRUIR40_DEPTH, mode=Mode.SUBTRACT)

    # Croquis47 → Saliente-Extruir14 (add)
    with BuildSketch(Plane(origin=(0, -0.193224592, -0.456712673), x_dir=(-1, 0, 0), z_dir=(0, -0.38963999083669787, -0.9209672510685588))):
        Polygon((16.25, 21.834102438), (33.44883958, 21.926104939), (22.720097697, 45.526464663), (16.25, 45.526464663), align=None)
    extrude(amount=-SALIENTE_EXTRUIR14_DEPTH)

    # Croquis48 → Cortar-Extruir41 (cut, two sides)
    with BuildSketch(Plane.XZ.offset(-20)) as cortar_extruir41_sk:
        with Locations((-1.25, 0.25)):
            Circle(CROQUIS48_R)
    extrude(amount=CORTAR_EXTRUIR41_DEPTH, mode=Mode.SUBTRACT)
    extrude(cortar_extruir41_sk.sketch, amount=-CORTAR_EXTRUIR41_DEPTH_BACK, mode=Mode.SUBTRACT)

    # Croquis49 → Cortar-Extruir42 (cut, through all)
    with BuildSketch(Plane.XZ.offset(-20)):
        with Locations((-15, -15)):
            Circle(CROQUIS49_R)
    extrude(amount=-CORTAR_EXTRUIR42_DEPTH, mode=Mode.SUBTRACT)


solid = body_2_2.part
